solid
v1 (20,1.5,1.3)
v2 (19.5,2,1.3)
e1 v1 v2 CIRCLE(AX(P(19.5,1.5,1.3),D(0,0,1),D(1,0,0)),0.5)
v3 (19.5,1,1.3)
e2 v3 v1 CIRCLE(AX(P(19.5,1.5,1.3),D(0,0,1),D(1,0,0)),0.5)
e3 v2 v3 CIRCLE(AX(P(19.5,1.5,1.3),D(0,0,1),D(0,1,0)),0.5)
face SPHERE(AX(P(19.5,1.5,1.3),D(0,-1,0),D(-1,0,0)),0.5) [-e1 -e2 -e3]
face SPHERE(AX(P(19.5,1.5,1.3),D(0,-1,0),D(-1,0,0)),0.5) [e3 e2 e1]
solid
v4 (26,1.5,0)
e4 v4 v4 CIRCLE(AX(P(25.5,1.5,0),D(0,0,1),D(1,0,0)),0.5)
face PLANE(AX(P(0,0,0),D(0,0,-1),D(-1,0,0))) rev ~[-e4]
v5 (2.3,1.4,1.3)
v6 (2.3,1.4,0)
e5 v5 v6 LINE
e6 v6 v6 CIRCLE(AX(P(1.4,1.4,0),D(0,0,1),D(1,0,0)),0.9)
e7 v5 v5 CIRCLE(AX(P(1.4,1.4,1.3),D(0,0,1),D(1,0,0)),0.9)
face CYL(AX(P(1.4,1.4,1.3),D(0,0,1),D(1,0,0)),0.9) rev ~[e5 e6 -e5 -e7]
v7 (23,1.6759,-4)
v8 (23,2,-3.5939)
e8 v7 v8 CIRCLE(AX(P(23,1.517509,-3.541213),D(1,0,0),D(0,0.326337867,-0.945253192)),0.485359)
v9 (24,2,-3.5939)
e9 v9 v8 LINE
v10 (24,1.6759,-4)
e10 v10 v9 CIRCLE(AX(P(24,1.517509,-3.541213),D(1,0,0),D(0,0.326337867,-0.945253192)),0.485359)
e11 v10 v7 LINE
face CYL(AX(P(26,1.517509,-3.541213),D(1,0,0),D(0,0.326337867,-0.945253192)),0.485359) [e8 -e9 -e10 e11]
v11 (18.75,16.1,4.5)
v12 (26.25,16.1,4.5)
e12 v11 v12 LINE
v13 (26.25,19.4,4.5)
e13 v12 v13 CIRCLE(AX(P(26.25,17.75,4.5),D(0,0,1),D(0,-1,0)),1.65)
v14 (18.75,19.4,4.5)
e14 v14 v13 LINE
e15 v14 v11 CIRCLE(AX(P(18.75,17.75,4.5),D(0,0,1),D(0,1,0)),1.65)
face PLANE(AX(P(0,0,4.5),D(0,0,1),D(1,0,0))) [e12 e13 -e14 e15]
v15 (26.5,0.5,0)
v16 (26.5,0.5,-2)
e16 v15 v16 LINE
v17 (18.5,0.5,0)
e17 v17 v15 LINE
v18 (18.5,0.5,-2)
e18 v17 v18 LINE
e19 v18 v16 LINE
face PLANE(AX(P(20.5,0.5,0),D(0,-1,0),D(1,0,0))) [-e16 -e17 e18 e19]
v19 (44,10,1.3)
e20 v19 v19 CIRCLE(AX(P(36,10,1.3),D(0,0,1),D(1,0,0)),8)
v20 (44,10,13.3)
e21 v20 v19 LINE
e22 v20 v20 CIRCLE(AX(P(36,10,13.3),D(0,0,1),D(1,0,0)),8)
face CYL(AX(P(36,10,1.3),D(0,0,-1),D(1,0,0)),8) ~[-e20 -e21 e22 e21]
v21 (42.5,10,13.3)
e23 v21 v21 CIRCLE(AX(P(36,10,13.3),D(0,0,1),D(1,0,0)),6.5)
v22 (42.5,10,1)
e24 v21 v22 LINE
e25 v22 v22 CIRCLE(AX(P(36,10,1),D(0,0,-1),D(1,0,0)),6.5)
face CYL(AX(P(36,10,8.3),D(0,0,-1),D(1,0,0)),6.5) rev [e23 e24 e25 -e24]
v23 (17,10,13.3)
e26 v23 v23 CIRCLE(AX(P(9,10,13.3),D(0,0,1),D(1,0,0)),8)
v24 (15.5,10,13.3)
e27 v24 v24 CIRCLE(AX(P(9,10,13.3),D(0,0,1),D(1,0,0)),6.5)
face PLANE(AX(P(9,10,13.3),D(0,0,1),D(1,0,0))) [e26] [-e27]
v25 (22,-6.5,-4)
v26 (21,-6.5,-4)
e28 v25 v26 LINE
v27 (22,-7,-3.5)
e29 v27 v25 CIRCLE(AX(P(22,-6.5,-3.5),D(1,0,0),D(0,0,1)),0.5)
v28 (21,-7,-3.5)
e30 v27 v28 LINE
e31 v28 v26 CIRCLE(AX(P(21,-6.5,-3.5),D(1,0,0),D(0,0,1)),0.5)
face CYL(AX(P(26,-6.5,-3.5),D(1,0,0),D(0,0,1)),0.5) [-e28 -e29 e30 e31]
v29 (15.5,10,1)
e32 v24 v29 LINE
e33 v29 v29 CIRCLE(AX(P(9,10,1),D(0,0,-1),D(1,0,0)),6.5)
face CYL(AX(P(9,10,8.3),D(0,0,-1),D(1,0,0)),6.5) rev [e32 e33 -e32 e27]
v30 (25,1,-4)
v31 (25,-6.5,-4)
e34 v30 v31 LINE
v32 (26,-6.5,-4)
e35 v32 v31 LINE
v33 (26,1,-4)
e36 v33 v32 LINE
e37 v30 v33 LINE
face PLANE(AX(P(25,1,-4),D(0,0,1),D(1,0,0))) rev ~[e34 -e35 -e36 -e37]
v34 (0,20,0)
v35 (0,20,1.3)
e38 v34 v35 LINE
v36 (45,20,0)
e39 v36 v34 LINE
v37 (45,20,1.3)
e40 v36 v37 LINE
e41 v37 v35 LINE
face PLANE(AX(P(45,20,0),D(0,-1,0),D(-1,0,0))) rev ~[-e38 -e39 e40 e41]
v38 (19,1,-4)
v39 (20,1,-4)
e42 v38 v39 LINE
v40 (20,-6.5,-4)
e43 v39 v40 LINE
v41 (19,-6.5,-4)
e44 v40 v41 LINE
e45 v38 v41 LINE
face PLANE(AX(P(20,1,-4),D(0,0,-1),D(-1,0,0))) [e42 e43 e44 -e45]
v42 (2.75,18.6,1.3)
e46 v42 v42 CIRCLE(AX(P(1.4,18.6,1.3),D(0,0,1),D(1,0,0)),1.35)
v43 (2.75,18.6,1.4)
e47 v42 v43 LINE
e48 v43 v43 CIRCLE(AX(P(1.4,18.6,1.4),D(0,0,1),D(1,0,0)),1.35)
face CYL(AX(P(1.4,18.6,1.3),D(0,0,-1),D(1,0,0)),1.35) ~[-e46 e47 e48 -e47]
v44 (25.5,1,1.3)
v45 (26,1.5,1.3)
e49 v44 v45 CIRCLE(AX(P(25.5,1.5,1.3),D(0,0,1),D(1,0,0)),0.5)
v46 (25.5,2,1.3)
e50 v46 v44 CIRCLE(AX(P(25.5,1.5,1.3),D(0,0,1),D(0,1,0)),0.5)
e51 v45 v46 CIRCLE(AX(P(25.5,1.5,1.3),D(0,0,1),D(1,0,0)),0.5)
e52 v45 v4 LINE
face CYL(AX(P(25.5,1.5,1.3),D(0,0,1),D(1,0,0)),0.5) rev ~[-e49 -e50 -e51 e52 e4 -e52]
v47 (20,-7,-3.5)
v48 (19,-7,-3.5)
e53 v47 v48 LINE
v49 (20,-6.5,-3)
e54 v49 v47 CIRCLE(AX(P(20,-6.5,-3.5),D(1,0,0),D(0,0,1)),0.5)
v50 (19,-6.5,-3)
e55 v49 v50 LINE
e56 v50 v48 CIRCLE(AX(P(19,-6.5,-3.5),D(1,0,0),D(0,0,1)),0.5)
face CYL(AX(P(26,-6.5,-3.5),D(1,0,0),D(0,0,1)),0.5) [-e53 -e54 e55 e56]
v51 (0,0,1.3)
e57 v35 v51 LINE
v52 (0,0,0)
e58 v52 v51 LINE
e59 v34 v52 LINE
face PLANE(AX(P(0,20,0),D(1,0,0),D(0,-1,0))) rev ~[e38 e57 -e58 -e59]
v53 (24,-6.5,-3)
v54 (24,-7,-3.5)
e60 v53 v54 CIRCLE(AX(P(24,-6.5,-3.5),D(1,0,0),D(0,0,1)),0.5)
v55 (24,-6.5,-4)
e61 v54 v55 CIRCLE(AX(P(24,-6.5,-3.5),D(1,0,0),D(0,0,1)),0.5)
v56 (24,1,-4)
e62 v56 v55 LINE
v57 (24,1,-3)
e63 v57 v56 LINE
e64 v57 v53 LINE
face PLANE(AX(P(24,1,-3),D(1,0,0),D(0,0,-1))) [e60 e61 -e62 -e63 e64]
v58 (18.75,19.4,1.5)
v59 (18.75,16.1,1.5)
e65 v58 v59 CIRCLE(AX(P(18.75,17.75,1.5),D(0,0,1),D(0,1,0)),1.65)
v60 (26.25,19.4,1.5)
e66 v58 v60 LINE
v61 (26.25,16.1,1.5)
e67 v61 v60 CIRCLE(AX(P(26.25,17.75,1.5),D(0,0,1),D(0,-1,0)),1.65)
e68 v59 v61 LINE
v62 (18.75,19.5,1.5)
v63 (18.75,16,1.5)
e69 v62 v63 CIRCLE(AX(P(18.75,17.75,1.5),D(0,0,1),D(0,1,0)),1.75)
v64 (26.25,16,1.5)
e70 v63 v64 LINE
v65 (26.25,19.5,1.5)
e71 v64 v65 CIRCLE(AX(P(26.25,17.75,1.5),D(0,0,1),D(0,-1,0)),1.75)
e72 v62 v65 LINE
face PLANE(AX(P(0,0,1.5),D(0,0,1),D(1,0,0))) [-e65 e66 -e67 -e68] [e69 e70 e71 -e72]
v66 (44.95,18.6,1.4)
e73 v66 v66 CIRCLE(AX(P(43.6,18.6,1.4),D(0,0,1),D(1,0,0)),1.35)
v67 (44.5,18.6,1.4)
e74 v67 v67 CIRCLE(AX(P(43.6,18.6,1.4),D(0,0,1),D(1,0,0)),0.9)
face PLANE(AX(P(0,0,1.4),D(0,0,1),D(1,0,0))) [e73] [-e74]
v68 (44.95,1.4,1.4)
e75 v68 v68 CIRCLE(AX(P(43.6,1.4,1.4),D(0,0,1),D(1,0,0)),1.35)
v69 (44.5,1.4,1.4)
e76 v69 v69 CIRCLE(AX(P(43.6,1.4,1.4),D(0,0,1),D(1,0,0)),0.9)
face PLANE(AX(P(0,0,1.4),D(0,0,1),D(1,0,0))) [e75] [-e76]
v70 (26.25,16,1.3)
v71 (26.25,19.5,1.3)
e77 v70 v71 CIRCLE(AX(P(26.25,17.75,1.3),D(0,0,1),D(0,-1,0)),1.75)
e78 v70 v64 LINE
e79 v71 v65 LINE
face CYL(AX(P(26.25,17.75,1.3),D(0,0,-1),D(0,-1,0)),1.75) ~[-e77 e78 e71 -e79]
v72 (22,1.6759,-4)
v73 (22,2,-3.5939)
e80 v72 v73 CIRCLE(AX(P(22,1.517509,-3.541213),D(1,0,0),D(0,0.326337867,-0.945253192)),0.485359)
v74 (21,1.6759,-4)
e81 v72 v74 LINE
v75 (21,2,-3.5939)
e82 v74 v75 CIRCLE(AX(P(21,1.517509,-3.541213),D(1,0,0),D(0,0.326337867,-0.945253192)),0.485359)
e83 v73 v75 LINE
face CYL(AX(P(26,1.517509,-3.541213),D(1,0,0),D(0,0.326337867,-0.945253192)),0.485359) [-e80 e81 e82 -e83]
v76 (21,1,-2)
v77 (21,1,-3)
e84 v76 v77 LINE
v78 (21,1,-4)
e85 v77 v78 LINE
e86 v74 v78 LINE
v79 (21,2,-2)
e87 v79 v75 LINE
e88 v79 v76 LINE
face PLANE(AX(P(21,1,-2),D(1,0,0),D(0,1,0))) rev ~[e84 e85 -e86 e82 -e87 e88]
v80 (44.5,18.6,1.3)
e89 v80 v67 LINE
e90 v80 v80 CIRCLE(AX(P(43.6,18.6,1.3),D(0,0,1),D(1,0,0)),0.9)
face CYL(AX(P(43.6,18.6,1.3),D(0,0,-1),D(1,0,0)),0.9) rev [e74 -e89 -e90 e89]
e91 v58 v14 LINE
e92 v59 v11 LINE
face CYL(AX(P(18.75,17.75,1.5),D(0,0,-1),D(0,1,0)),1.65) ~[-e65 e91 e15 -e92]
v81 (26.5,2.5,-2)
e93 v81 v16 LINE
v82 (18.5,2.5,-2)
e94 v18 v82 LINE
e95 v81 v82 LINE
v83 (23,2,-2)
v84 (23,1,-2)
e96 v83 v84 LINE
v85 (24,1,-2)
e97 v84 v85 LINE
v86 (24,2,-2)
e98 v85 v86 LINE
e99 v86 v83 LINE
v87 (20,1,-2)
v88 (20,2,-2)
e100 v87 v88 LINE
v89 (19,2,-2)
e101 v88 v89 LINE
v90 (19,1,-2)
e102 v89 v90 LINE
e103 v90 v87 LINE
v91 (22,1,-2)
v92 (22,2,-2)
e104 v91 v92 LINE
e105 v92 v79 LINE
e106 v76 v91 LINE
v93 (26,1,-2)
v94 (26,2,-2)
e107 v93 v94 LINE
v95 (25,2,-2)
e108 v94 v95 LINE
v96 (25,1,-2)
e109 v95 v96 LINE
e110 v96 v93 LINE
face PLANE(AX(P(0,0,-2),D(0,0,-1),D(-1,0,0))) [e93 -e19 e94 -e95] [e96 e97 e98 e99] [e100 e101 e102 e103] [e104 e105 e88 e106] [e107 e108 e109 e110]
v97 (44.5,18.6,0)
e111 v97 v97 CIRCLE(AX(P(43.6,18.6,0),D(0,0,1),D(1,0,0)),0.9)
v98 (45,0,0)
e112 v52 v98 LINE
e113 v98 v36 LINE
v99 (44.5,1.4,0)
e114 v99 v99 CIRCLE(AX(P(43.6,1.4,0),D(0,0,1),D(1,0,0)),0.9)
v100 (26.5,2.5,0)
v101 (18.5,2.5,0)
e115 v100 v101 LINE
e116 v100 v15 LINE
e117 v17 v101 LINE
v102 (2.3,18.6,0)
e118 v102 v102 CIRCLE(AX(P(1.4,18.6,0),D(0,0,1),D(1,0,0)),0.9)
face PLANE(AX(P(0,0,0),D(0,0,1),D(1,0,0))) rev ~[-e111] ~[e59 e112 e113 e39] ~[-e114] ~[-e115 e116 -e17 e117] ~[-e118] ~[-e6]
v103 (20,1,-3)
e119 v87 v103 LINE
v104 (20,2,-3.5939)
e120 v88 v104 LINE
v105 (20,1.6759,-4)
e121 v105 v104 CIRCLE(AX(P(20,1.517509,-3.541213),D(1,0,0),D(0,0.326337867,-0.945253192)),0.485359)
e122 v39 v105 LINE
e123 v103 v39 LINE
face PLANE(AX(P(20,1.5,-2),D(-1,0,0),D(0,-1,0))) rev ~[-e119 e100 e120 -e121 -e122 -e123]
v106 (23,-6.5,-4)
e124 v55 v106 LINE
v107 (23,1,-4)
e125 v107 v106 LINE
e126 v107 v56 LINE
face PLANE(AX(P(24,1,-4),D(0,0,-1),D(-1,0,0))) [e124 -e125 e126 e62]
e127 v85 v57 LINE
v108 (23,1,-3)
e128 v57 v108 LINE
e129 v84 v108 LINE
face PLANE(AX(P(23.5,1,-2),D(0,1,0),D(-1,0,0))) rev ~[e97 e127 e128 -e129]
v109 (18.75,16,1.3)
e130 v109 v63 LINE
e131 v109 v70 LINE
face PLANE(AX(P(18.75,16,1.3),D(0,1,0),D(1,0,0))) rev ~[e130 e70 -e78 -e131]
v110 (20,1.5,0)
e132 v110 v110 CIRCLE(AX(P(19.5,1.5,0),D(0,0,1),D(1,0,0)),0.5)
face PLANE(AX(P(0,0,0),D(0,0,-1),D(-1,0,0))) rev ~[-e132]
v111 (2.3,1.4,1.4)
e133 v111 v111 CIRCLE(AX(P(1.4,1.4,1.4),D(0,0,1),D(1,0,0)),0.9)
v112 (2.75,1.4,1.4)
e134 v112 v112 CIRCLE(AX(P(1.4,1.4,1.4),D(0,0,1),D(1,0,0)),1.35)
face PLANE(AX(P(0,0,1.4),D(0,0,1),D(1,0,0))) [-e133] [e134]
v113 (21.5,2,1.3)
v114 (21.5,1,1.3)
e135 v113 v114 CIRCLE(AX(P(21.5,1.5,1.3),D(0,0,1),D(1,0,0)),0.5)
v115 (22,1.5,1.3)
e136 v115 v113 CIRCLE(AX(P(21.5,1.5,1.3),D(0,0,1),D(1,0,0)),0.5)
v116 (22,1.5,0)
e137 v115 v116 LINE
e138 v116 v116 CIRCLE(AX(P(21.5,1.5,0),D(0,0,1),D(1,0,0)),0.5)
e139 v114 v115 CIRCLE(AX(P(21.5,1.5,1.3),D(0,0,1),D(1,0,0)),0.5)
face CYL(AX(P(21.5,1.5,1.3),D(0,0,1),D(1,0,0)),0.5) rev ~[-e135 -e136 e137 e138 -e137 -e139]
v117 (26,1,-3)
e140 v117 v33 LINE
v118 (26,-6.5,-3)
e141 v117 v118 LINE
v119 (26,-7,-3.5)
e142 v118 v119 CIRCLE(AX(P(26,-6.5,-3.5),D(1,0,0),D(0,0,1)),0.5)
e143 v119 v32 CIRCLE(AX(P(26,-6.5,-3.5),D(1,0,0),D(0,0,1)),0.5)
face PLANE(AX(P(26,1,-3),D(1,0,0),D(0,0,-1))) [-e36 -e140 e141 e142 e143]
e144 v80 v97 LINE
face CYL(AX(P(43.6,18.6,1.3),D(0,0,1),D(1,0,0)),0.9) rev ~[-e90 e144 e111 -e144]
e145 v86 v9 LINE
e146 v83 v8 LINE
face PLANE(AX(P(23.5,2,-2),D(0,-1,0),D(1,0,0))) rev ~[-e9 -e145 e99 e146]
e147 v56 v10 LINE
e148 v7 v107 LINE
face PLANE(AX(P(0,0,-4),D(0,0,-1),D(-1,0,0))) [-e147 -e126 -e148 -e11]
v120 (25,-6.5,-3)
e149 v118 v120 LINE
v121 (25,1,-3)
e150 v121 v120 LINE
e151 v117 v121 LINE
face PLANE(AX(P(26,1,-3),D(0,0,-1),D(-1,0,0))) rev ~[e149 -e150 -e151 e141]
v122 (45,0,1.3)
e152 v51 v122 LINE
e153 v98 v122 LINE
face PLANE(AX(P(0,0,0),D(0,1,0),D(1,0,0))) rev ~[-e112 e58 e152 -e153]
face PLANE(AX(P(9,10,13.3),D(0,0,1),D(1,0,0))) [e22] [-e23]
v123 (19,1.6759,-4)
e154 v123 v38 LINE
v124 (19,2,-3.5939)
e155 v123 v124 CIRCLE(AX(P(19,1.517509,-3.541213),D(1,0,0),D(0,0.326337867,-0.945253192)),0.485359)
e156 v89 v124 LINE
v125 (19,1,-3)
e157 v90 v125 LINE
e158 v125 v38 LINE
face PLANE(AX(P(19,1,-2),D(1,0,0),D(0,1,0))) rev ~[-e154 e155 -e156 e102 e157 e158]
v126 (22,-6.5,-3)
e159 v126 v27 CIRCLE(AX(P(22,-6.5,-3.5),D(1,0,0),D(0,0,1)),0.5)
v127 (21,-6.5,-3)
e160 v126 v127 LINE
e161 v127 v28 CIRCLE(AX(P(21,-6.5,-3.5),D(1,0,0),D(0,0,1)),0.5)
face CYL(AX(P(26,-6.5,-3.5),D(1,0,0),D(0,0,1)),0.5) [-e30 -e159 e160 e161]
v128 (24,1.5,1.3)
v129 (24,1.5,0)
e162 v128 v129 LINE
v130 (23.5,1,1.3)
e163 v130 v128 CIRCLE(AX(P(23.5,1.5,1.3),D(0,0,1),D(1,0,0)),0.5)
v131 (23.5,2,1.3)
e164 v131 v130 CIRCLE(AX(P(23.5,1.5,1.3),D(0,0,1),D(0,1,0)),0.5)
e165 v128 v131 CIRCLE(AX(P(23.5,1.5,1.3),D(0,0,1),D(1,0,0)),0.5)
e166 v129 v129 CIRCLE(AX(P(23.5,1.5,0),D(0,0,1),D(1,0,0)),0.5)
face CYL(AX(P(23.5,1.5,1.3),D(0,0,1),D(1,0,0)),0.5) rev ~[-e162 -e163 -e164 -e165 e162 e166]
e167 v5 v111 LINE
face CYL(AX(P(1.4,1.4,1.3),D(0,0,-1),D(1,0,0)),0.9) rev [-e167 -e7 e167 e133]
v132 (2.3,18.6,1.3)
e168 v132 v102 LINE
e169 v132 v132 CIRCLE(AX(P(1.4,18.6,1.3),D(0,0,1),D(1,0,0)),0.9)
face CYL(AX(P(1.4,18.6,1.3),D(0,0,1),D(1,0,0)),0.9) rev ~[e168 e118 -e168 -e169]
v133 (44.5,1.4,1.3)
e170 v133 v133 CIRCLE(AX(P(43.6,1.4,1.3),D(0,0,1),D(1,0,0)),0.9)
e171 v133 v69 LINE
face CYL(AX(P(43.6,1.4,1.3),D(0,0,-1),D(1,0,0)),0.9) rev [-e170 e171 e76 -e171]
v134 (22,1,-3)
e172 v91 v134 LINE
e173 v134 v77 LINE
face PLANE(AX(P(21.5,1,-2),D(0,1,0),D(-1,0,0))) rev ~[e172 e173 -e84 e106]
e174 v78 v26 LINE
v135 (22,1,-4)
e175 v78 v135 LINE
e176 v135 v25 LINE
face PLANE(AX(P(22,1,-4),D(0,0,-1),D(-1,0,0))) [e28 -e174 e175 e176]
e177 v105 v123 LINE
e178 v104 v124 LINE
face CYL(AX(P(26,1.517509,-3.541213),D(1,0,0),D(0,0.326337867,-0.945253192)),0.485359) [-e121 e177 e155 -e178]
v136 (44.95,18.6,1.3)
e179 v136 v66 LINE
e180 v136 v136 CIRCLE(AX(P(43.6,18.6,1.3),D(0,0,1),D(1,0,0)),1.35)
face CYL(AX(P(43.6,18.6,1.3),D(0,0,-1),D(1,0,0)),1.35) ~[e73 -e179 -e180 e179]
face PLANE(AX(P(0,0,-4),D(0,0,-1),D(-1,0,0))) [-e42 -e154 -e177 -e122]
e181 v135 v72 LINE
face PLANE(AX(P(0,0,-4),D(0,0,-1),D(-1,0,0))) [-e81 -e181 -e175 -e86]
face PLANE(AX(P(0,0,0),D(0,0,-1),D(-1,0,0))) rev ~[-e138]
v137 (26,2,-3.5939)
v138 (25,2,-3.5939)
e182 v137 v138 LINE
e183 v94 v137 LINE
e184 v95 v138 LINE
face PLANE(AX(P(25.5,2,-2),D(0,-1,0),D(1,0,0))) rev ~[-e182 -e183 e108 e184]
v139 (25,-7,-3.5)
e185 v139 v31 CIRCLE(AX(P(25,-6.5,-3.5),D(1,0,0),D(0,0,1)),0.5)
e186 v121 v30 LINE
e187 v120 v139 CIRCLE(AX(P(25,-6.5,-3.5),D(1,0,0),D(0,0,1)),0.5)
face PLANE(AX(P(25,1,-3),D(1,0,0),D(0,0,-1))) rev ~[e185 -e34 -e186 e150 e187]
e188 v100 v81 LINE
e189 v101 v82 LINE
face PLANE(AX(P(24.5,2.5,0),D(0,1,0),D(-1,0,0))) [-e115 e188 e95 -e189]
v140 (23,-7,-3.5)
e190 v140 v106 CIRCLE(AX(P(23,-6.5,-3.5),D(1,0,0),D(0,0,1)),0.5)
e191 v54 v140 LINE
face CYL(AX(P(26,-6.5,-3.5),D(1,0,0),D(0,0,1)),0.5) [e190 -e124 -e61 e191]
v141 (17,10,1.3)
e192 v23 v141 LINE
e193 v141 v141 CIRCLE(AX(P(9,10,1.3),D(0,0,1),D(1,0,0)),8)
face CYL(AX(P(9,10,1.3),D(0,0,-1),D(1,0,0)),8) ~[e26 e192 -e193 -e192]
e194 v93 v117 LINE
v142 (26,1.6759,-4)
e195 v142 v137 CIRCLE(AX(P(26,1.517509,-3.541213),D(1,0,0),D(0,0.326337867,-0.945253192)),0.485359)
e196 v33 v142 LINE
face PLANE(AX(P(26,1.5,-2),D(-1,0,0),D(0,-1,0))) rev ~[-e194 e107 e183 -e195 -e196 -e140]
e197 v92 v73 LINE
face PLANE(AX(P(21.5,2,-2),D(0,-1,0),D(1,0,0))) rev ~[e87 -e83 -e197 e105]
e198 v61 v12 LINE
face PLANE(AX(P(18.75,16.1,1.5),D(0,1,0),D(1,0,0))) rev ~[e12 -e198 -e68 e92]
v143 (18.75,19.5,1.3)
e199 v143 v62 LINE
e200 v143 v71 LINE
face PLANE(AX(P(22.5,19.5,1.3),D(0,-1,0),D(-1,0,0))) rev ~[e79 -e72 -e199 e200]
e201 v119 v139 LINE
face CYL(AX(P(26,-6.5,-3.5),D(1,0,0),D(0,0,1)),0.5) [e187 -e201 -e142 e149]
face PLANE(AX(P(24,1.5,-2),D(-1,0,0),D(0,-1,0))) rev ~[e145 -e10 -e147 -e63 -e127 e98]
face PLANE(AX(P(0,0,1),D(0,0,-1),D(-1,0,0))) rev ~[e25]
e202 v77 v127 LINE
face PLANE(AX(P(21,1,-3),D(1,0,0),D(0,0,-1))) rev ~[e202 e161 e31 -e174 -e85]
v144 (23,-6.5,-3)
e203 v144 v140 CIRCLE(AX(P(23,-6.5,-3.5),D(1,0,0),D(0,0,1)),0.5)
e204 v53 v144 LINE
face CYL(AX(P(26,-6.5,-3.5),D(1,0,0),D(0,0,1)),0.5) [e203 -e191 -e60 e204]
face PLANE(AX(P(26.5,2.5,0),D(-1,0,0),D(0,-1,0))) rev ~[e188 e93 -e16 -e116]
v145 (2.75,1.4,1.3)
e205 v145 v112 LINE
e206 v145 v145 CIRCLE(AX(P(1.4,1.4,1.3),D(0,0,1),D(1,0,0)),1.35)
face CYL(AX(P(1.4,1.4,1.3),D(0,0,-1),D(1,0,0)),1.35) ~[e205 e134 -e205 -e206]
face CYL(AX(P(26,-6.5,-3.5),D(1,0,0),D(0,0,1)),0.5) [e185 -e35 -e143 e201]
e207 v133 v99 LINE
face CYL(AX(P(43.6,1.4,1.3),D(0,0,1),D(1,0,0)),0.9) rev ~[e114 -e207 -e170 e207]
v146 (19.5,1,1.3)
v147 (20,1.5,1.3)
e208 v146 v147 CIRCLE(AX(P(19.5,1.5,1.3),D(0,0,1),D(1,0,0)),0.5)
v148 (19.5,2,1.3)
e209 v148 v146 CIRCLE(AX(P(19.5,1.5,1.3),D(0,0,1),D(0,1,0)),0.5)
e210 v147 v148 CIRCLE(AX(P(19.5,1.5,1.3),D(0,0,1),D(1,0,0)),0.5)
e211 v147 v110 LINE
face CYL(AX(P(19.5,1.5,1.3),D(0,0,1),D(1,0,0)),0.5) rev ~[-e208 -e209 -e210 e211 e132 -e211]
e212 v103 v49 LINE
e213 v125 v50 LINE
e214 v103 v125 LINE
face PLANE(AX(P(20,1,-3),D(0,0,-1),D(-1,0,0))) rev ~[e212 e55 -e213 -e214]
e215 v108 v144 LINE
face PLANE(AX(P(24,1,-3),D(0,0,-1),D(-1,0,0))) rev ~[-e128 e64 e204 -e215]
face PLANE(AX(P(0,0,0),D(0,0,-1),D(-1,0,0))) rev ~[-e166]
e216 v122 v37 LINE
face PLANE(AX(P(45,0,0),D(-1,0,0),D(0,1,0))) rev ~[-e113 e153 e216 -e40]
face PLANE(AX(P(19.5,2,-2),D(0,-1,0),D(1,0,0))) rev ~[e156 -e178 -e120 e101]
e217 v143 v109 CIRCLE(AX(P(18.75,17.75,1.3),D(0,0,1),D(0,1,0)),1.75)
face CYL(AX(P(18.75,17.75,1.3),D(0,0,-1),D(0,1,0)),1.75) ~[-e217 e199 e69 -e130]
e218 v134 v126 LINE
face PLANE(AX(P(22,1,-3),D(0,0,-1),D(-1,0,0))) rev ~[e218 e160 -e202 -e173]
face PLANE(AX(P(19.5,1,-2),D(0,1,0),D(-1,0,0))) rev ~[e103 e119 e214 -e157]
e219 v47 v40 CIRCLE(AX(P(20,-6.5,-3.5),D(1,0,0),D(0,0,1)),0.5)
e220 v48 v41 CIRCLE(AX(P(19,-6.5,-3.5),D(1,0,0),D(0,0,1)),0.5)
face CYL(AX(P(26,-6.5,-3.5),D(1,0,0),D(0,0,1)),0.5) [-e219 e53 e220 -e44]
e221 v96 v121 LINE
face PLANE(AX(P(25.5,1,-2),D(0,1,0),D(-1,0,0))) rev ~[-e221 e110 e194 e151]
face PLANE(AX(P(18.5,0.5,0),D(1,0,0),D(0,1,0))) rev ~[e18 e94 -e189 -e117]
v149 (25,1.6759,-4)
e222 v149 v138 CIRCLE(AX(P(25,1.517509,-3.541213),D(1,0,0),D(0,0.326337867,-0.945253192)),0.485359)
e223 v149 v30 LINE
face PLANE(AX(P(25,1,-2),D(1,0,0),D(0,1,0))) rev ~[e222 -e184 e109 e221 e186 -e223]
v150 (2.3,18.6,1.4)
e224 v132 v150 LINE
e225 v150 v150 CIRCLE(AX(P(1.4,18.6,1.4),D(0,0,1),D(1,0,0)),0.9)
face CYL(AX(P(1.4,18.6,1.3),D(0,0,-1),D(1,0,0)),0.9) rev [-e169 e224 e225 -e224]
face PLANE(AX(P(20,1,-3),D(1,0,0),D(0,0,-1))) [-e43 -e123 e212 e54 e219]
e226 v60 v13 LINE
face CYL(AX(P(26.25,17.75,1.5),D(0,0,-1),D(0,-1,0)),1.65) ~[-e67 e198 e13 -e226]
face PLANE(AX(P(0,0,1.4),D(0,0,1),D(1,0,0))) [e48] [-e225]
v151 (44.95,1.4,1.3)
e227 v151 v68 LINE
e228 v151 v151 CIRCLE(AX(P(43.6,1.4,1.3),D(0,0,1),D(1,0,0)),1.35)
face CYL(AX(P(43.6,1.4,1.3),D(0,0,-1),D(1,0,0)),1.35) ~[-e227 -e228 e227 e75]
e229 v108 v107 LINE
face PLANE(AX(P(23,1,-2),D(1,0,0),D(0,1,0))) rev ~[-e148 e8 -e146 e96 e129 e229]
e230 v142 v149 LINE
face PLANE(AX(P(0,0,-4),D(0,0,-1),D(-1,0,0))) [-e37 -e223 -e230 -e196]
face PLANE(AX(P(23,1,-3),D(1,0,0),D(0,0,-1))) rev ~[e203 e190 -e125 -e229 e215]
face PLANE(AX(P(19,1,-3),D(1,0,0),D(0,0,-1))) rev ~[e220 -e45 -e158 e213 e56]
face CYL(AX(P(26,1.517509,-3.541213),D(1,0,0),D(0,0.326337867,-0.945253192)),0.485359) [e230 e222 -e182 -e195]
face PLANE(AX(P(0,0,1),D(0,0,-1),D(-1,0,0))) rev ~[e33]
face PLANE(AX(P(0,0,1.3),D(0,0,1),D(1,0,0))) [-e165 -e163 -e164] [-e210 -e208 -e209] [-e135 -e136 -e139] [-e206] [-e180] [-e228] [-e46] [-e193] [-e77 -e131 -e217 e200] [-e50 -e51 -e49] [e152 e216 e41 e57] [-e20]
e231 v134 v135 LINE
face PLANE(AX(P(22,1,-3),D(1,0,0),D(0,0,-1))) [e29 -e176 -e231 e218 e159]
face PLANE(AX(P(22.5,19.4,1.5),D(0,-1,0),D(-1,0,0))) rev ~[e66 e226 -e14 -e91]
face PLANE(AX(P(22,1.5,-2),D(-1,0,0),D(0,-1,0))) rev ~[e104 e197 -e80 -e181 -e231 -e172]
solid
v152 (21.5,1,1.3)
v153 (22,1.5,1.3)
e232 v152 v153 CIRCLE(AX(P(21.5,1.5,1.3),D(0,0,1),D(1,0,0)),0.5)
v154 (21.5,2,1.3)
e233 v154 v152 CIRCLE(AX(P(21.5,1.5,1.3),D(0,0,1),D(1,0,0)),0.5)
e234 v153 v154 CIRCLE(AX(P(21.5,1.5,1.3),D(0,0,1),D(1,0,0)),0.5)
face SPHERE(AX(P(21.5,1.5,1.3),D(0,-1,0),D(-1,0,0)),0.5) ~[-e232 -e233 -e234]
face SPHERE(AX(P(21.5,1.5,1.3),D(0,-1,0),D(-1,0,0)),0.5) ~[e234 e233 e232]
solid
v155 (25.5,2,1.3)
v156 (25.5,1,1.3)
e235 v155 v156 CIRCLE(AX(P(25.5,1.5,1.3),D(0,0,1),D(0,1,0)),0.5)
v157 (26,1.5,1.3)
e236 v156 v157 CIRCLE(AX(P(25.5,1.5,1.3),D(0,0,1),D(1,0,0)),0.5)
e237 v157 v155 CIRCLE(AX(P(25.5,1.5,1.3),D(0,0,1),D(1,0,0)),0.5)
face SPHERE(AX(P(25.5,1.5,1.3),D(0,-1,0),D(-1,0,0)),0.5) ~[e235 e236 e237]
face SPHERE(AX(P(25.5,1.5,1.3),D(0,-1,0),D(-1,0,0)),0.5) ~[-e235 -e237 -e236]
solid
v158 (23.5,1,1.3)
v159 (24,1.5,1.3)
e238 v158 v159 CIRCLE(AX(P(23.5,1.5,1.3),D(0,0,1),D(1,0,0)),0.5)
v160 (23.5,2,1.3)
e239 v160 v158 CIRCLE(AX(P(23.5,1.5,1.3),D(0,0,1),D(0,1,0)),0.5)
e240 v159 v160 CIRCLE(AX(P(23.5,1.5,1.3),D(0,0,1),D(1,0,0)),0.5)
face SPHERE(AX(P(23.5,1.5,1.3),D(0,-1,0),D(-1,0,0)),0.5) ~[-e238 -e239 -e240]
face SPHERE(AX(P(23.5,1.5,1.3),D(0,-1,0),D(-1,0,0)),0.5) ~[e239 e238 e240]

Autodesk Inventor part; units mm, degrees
ref_plane "YZ Plane" through (0, 0, 0) normal (1, 0, 0) x (0, 1, 0)
ref_plane "XZ Plane" through (0, 0, 0) normal (0, 1, 0) x (-1, 0, 0)
ref_plane "XY Plane" through (0, 0, 0) normal (0, 0, 1) x (1, 0, 0)
sketch "Sketch1" plane through (0, 0, 0) normal (0, 0, 1) x (1, 0, 0)
  line L0 (0, 0) -> (45, 0)
  line L1 (45, 0) -> (45, 20)
  line L2 (45, 20) -> (0, 20)
  line L3 (0, 20) -> (0, 0)
  line L4 (0, 0) -> (45, 0)
  line L5 (45, 0) -> (45, 20)
  dimension "d0" = 45
  dimension "d1" = 20
extrude "Extrusion1" add sketch "Sketch1" along normal blind 1.3
sketch "Sketch2" plane through (0, 0, 1.3) normal (0, 0, 1) x (1, 0, 0)
  line L0 (0, 20) -> (0, 0)
  line L1 (0, 20) -> (0, 0) projected
  circle A0 centre (9, 10) radius 8
  line L2 (0, 0) -> (45, 0) projected
  line L3 (22.5, 0) -> (22.5, 16.923)
  circle A1 centre (36, 10) radius 8
extrude "Extrusion2" add sketch "Sketch2" along normal blind 7
sketch "Sketch3" plane through (0, 0, 1.3) normal (0, 0, 1) x (1, 0, 0)
  line L0 (0, 0) -> (45, 0) projected
  line L1 (22.5, 0) -> (22.5, 3.8703)
  line L2 (22.5, 0) -> (22.5, 1.5)
  circle A0 centre (23.5, 1.5) radius 0.5
  circle A1 centre (25.5, 1.5) radius 0.5
  circle A2 centre (21.5, 1.5) radius 0.5
  circle A3 centre (19.5, 1.5) radius 0.5
extrude "Extrusion3" cut sketch "Sketch3" against normal blind 7
sketch "Sketch4" plane through (0, 0, 1.3) normal (0, 0, 1) x (1, 0, 0)
  line L0 (0, 0) -> (0.5, 0)
  line L1 (0, 0) -> (45, 0) projected
  line L2 (0.5, 0) -> (0.5, 0.5)
  circle A0 centre (1.4, 1.4) radius 0.9
  line L3 (0, 20) -> (0, 0) projected
  line L4 (0, 20) -> (0, 0) projected
  line L5 (45, 20) -> (0, 20) projected
  line L6 (0, 20) -> (0.5, 20)
  line L7 (0.5, 20) -> (0.5, 19.5)
  circle A1 centre (1.4, 18.6) radius 0.9
  line L8 (45, 0) -> (44.5, 0)
  line L9 (44.5, 0) -> (44.5, 0.5)
  circle A2 centre (43.6, 1.4) radius 0.9
  line L10 (45, 20) -> (45, 0)
  line L11 (45, 20) -> (45, 0)
  line L12 (45, 20) -> (44.5, 20)
  line L13 (44.5, 20) -> (44.5, 19.5)
  circle A3 centre (43.6, 18.6) radius 0.9
extrude "Extrusion4" cut sketch "Sketch4" against normal blind 7 contours A0 | A1 | A2 | A3
sketch "Sketch5" plane through (9, 10, 8.3) normal (0, 0, 1) x (1, 0, 0)
  circle A0 centre (27, 0) radius 8 projected
  circle A1 centre (0, 0) radius 8 projected
  circle A2 centre (0, 0) radius 6.5
  circle A3 centre (27, 0) radius 6.5
  point P0 (-9, -10)
  dimension "d21" = 13
  dimension "d22" = 13
extrude "Extrusion5" cut sketch "Sketch5" against normal blind 10 contours A2 | A3
sketch "Sketch6" plane through (9, 10, 8.3) normal (0, 0, 1) x (1, 0, 0)
  circle A0 centre (27, 0) radius 6.5 projected
  circle A1 centre (27, 0) radius 8 projected
  circle A2 centre (0, 0) radius 6.5 projected
  circle A3 centre (0, 0) radius 8 projected
  point P0 (-9, -10)
extrude "Extrusion6" add sketch "Sketch6" along normal blind 5
sketch "Sketch7" plane through (0, 0, 0) normal (0, 0, -1) x (-1, 0, 0)
  circle A0 centre (-36, 10) radius 6.5 projected
  circle A1 centre (-9, 10) radius 6.5 projected
  circle A2 centre (-43.6, 1.4) radius 0.9 projected
  circle A3 centre (-1.4, 1.4) radius 0.9 projected
  circle A4 centre (-1.4, 18.6) radius 0.9 projected
  circle A5 centre (-43.6, 18.6) radius 0.9 projected
  circle A6 centre (-21.5, 1.5) radius 0.5 projected
  circle A7 centre (-23.5, 1.5) radius 0.5 projected
  circle A8 centre (-25.5, 1.5) radius 0.5 projected
  circle A9 centre (-19.5, 1.5) radius 0.5 projected
  line L0 (0, 0) -> (-45, 0) projected
  line L1 (0, 20) -> (0, 0) projected
  line L2 (-45, 20) -> (0, 20) projected
  line L3 (-45, 0) -> (-45, 20) projected
extrude "Extrusion7" add sketch "Sketch7" against normal blind 1 contours A0 | A1
sketch "Sketch8" plane through (0, 0, 1.3) normal (0, 0, 1) x (1, 0, 0)
  circle A0 centre (43.6, 1.4) radius 0.9 projected
  circle A1 centre (1.4, 1.4) radius 0.9 projected
  circle A2 centre (1.4, 18.6) radius 0.9 projected
  circle A3 centre (43.6, 18.6) radius 0.9 projected
  circle A4 centre (21.5, 1.5) radius 0.5 projected
  circle A5 centre (23.5, 1.5) radius 0.5 projected
  circle A6 centre (25.5, 1.5) radius 0.5 projected
  circle A7 centre (19.5, 1.5) radius 0.5 projected
  circle A8 centre (9, 10) radius 8 projected
  circle A9 centre (36, 10) radius 8 projected
  line L0 (0, 0) -> (45, 0) projected
  line L1 (45, 0) -> (45, 20) projected
  line L2 (45, 20) -> (0, 20) projected
  line L3 (0, 20) -> (0, 0) projected
  line L4 (45, 20) -> (0, 20) projected
  line L5 (22.5, 20) -> (28, 20)
  line L6 (28, 20) -> (17, 20)
  line L7 (22.5, 20) -> (22.5, 19.5)
  line L8 (22.5, 19.5) -> (26.25, 19.5)
  line L9 (18.75, 16) -> (26.25, 16)
  arc A10 (26.25, 16) -> (26.25, 19.5) centre (26.25, 17.75) ccw
  line L10 (22.5, 19.5) -> (18.75, 19.5)
  arc A11 (18.75, 19.5) -> (18.75, 16) centre (18.75, 17.75) ccw
  line L11 (26.25, 19.5) -> (18.75, 19.5)
  line L12 (17, 19.5) -> (16.3922, 19.5)
extrude "Extrusion8" add sketch "Sketch8" along normal blind 0.2 contours L8 A10 L9 A11 L10
sketch "Sketch9" plane through (0, 0, 1.5) normal (0, 0, 1) x (1, 0, 0)
  line L0 (26.25, 19.5) -> (18.75, 19.5) projected
  arc A0 (18.75, 19.5) -> (18.75, 16) centre (18.75, 17.75) ccw projected
  line L1 (18.75, 16) -> (26.25, 16) projected
  arc A1 (26.25, 16) -> (26.25, 19.5) centre (26.25, 17.75) ccw projected
  line L2 (26.25, 19.5) -> (18.75, 19.5) projected
  line L3 (22.5, 19.5) -> (22.5, 19.4)
  line L4 (22.5, 19.4) -> (26.25, 19.4)
  line L5 (22.5, 19.4) -> (18.75, 19.4)
  line L6 (18.75, 16) -> (18.75, 16.1)
  line L7 (18.75, 16) -> (18.85, 16) construction
  line L8 (18.75, 16.1) -> (26.25, 16.1)
  arc A2 (18.75, 19.4) -> (18.75, 16.1) centre (18.75, 17.75) ccw
  arc A3 (26.25, 16.1) -> (26.25, 19.4) centre (26.25, 17.75) ccw
  point P0 (0, 0)
extrude "Extrusion9" add sketch "Sketch9" along normal blind 3 contours L4 A3 L8 A2 L5
sketch "Sketch10" plane through (0, 0, 1.3) normal (0, 0, 1) x (1, 0, 0)
  circle A0 centre (1.4, 18.6) radius 0.9 projected
  circle A1 centre (1.4, 18.6) radius 1.35
  arc A2 (26.25, 16) -> (26.25, 19.5) centre (26.25, 17.75) ccw projected
  line L0 (26.25, 16) -> (18.75, 16) projected
  arc A3 (18.75, 19.5) -> (18.75, 16) centre (18.75, 17.75) ccw projected
  line L1 (18.75, 19.5) -> (26.25, 19.5) projected
  circle A4 centre (43.6, 1.4) radius 0.9 projected
  circle A5 centre (1.4, 1.4) radius 0.9 projected
  circle A6 centre (1.4, 18.6) radius 0.9 projected
  circle A7 centre (43.6, 18.6) radius 0.9 projected
  circle A8 centre (21.5, 1.5) radius 0.5 projected
  circle A9 centre (23.5, 1.5) radius 0.5 projected
  circle A10 centre (25.5, 1.5) radius 0.5 projected
  circle A11 centre (19.5, 1.5) radius 0.5 projected
  circle A12 centre (9, 10) radius 8 projected
  circle A13 centre (36, 10) radius 8 projected
  line L2 (0, 0) -> (45, 0) projected
  line L3 (45, 0) -> (45, 20) projected
  line L4 (45, 20) -> (0, 20) projected
  line L5 (0, 20) -> (0, 0) projected
  circle A14 centre (1.4, 1.4) radius 1.35
  circle A15 centre (43.6, 1.4) radius 1
  circle A16 centre (43.6, 18.6) radius 1.35
  dimension "d44" = 2.7
  dimension "d45" = 2.7
  dimension "d46" = 2
  dimension "d47" = 2.7
extrude "Extrusion10" add sketch "Sketch10" along normal blind 0.1 contours A1 | A14 | A16
sketch "Sketch11" plane through (0, 0, 1.3) normal (0, 0, 1) x (1, 0, 0)
  circle A0 centre (43.6, 1.4) radius 0.9 projected
  circle A1 centre (43.6, 1.4) radius 1.35
  point P0 (0, 0)
  dimension "d50" = 2.7
extrude "Extrusion11" add sketch "Sketch11" along normal blind 0.1
sketch "Sketch12" plane through (0, 0, 1.3) normal (0, 0, 1) x (1, 0, 0)
  circle A0 centre (19.5, 1.5) radius 0.5 projected
  circle A1 centre (21.5, 1.5) radius 0.5 projected
  circle A2 centre (23.5, 1.5) radius 0.5 projected
  circle A3 centre (25.5, 1.5) radius 0.5 projected
  line L0 (19.5, 0.8729) -> (19.5, 2)
  line L1 (21.5, 1) -> (21.5, 2)
  line L2 (23.5, 1) -> (23.5, 2)
  line L3 (25.5, 1) -> (25.5, 2)
  circle A4 centre (25.5, 1.5) radius 0.5 projected
  circle A5 centre (25.5, 1.5) radius 0.5 projected
  point P0 (0, 0)
revolve "Revolution1" add sketch "Sketch12" angle 360 about axis through (21.5, 1, 1.3) along (0, 1, 0) picked at (21.3442, 1.4409) contours L1 A1
sketch "Sketch13" plane through (0, 0, 1.3) normal (0, 0, 1) x (1, 0, 0)
  circle A0 centre (43.6, 1.4) radius 1.35 projected
  circle A1 centre (43.6, 18.6) radius 1.35 projected
  circle A2 centre (1.4, 18.6) radius 1.35 projected
  circle A3 centre (1.4, 1.4) radius 1.35 projected
  arc A4 (26.25, 16) -> (26.25, 19.5) centre (26.25, 17.75) ccw projected
  line L0 (26.25, 16) -> (18.75, 16) projected
  arc A5 (18.75, 19.5) -> (18.75, 16) centre (18.75, 17.75) ccw projected
  line L1 (18.75, 19.5) -> (26.25, 19.5) projected
  circle A6 centre (21.5, 1.5) radius 0.5 projected
  circle A7 centre (23.5, 1.5) radius 0.5 projected
  circle A8 centre (25.5, 1.5) radius 0.5 projected
  circle A9 centre (19.5, 1.5) radius 0.5 projected
  circle A10 centre (9, 10) radius 8 projected
  circle A11 centre (36, 10) radius 8 projected
  line L2 (0, 0) -> (45, 0) projected
  line L3 (45, 0) -> (45, 20) projected
  line L4 (45, 20) -> (0, 20) projected
  line L5 (0, 20) -> (0, 0) projected
  circle A12 centre (23.5, 1.5) radius 0.5 projected
  line L6 (23.5, 1.5) -> (23.5, 1)
  line L7 (23.5, 1.5) -> (24, 1.5) construction
  line L8 (23.5, 1) -> (23.5, 2.2277)
  line L9 (25.5, 1.5) -> (25.5, 2)
  line L10 (19.5, 1.1367) -> (19.5, 2.962)
  line L11 (19.5, 2.962) -> (19.5, 0.5552)
  circle A13 centre (19.5, 1.5) radius 0.5 projected
  arc A14 (19.5, 2) -> (19.5, 1) centre (19.5, 1.5) ccw
  dimension "d54" = 90
revolve "Revolution2" add sketch "Sketch13" angle 360 about axis through (19.5, 2.962, 1.3) along (0, -1, 0) picked at (19.4601, 1.7074) contours L10 L11 A9
sketch "Sketch14" plane through (0, 0, 1.3) normal (0, 0, 1) x (1, 0, 0)
  circle A0 centre (23.5, 1.5) radius 0.5 projected
  line L0 (23.5, 0.6366) -> (23.5, 2.6305)
  arc A1 (23.5, 2) -> (23.5, 1) centre (23.5, 1.5) ccw
  point P0 (0, 0)
revolve "Revolution3" add sketch "Sketch14" angle 360 about axis through (23.5, 0.6366, 1.3) along (0, 1, 0) picked at (23.3442, 1.4409) contours L0 A0
sketch "Sketch15" plane through (0, 0, 1.3) normal (0, 0, 1) x (1, 0, 0)
  line L0 (25.5, 1) -> (25.5, 2)
  arc A0 (25.5, 2) -> (25.5, 1) centre (25.5, 1.5) ccw
  point P0 (0, 0)
revolve "Revolution4" add sketch "Sketch15" angle 360 about axis through (25.5, 1, 1.3) along (0, 1, 0)
sketch "Sketch16" plane through (0, 0, 0) normal (0, 0, -1) x (-1, 0, 0)
  circle A0 centre (-43.6, 1.4) radius 0.9 projected
  circle A1 centre (-1.4, 1.4) radius 0.9 projected
  circle A2 centre (-1.4, 18.6) radius 0.9 projected
  circle A3 centre (-43.6, 18.6) radius 0.9 projected
  circle A4 centre (-21.5, 1.5) radius 0.5 projected
  circle A5 centre (-23.5, 1.5) radius 0.5 projected
  circle A6 centre (-25.5, 1.5) radius 0.5 projected
  circle A7 centre (-19.5, 1.5) radius 0.5 projected
  line L0 (0, 0) -> (-45, 0) projected
  line L1 (0, 20) -> (0, 0) projected
  line L2 (-45, 20) -> (0, 20) projected
  line L3 (-45, 0) -> (-45, 20) projected
  line L4 (-18.5, 2.5) -> (-20.5, 2.5)
  line L5 (-20.5, 2.5) -> (-20.5, 0.5)
  line L6 (-20.5, 0.5) -> (-18.5, 0.5)
  line L7 (-18.5, 0.5) -> (-18.5, 2.5)
  line L8 (-18.5, 2.5) -> (-20.5, 0.5) construction
  line L9 (-20.5, 2.5) -> (-18.5, 0.5) construction
  line L10 (-24.5, 2.5) -> (-26.5, 2.5)
  line L11 (-26.5, 2.5) -> (-26.5, 0.5)
  line L12 (-26.5, 0.5) -> (-24.5, 0.5)
  line L13 (-24.5, 0.5) -> (-24.5, 2.5)
  line L14 (-24.5, 2.5) -> (-26.5, 0.5) construction
  line L15 (-26.5, 2.5) -> (-24.5, 0.5) construction
  line L16 (-18.5, 0.5) -> (-26.5917, 0.5)
  line L17 (-18.5, 2.5917) -> (-18.5, 0.5)
  line L18 (-26.5917, 0.5) -> (-18.5, 0.5)
  line L19 (-18.5, 0.5) -> (-18.5, 2.5917)
  line L20 (-18.5, 0.5) -> (-26.5, 0.5)
  line L21 (-26.5, 0.5) -> (-26.5, 2.5)
  line L22 (-26.5, 2.5) -> (-18.5, 2.5)
  line L23 (-18.5, 2.5) -> (-18.5, 0.5)
  dimension "d58" = 2
  dimension "d59" = 2
  dimension "d60" = 2
  dimension "d61" = 2
extrude "Extrusion12" add sketch "Sketch16" along normal blind 2 contours A4 | A5 | A6 | A7 | L7 L6 L5 L4 | L5 L16 L13 L22 | L13 L12 L11 L10
sketch "Sketch17" plane through (0, 0, -2) normal (0, 0, -1) x (-1, 0, 0)
  point P0 (0, 0)
sketch "Sketch18" plane through (0, 0, -2) normal (0, 0, -1) x (-1, 0, 0)
  point P0 (0, 0)
sketch "Sketch19" plane through (0, 0, -2) normal (0, 0, -1) x (-1, 0, 0)
  line L0 (-26.5, 2.5) -> (-26.5, 0.5) projected
  line L1 (-26.5, 0.5) -> (-18.5, 0.5) projected
  line L2 (-18.5, 0.5) -> (-18.5, 2.5) projected
  line L3 (-18.5, 2.5) -> (-26.5, 2.5) projected
  circle A0 centre (-19.5, 1.5) radius 0.5 projected
  circle A1 centre (-21.5, 1.5) radius 0.5 projected
  circle A2 centre (-23.5, 1.5) radius 0.5 projected
  circle A3 centre (-25.5, 1.5) radius 0.5 projected
  line L4 (-19, 2) -> (-20, 2)
  line L5 (-20, 2) -> (-20, 1)
  line L6 (-20, 1) -> (-19, 1)
  line L7 (-19, 1) -> (-19, 2)
  line L8 (-19, 2) -> (-20, 1) construction
  line L9 (-20, 2) -> (-19, 1) construction
  line L10 (-21, 2) -> (-22, 2)
  line L11 (-22, 2) -> (-22, 1)
  line L12 (-22, 1) -> (-21, 1)
  line L13 (-21, 1) -> (-21, 2)
  line L14 (-21, 2) -> (-22, 1) construction
  line L15 (-22, 2) -> (-21, 1) construction
  line L16 (-23, 2) -> (-24, 2)
  line L17 (-24, 2) -> (-24, 1)
  line L18 (-24, 1) -> (-23, 1)
  line L19 (-23, 1) -> (-23, 2)
  line L20 (-23, 2) -> (-24, 1) construction
  line L21 (-24, 2) -> (-23, 1) construction
  line L22 (-25, 2) -> (-26, 2)
  line L23 (-26, 2) -> (-26, 1)
  line L24 (-26, 1) -> (-25, 1)
  line L25 (-25, 1) -> (-25, 2)
  line L26 (-25, 2) -> (-26, 1) construction
  line L27 (-26, 2) -> (-25, 1) construction
  point P0 (0, 0)
extrude "Extrusion13" add sketch "Sketch19" along normal blind 2 contours A0 | L7 L6 A0 | A0 L4 L7 | A0 L5 L4 | L6 L5 A0 | A1 | L13 L12 A1 | A1 L10 L13 | A1 L11 L10 | L12 L11 A1 | A2 | L19 L18 A2 | A2 L16 L19 | A2 L17 L16 | L18 L17 A2 | A3 | L25 L24 A3 | A3 L22 L25 | A3 L23 L22 | L24 L23 A3
sketch "Sketch20" plane through (25, 1, -2) normal (0, -1, 0) x (1, 0, 0)
  line L0 (-2, 0) -> (-1, 0) projected
  line L1 (-2, 0) -> (-2, -2) projected
  line L2 (-1, -2) -> (-2, -2) projected
  line L3 (-1, 0) -> (-1, -2) projected
  line L4 (-4, 0) -> (-4, -2) projected
  line L5 (-4, 0) -> (-3, 0) projected
  line L6 (-4, 0) -> (-4, -2) projected
  line L7 (-3, -2) -> (-4, -2) projected
  line L8 (-3, 0) -> (-3, -2) projected
  line L9 (-6, 0) -> (-5, 0) projected
  line L10 (-6, 0) -> (-6, -2) projected
  line L11 (-5, -2) -> (-6, -2) projected
  line L12 (-5, 0) -> (-5, -2) projected
  line L13 (-5, 0) -> (-5, -2) projected
  line L14 (-6, -2) -> (-5, -2)
  line L15 (-5, -2) -> (-5, -1)
  line L16 (-5, -1) -> (-6, -1)
  line L17 (-6, -1) -> (-6, -2)
  line L18 (-4, -2) -> (-3, -2)
  line L19 (-3, -2) -> (-3, -1)
  line L20 (-3, -1) -> (-4, -1)
  line L21 (-4, -1) -> (-4, -2)
  line L22 (-1, 0) -> (-1, -2) projected
  line L23 (-2, -2) -> (-1, -2)
  line L24 (-1, -2) -> (-1, -1)
  line L25 (-1, -1) -> (-2, -1)
  line L26 (-2, -1) -> (-2, -2)
  line L27 (1, 0) -> (1, -2) projected
  line L28 (0, -2) -> (1, -2)
  line L29 (1, -2) -> (1, -1)
  line L30 (1, -1) -> (0, -1)
  line L31 (0, -1) -> (0, -2)
  point P0 (-25, 2)
extrude "Extrusion14" add sketch "Sketch20" along normal blind 8 contours L25 L3 L2 L1 | L20 L8 L7 L4 | L16 L12 L11 L10 | L27 L28 L31 L30
sketch "Sketch21" plane through (26, 1, -2) normal (1, 0, 0) x (0, 0, -1)
  line L0 (0, 0) -> (0, 1) projected
  line L1 (0, 0) -> (1, 0) projected
  line L2 (1, 0) -> (1, -8) projected
  line L3 (2, -8) -> (1, -8) projected
  line L4 (2, 1) -> (2, -8) projected
  line L5 (0, 1) -> (2, 1) projected
  line L6 (2, 1) -> (2, -8) projected
  line L7 (0, 1) -> (2, 1) projected
  arc A0 (2, 0.6759) -> (1.5939, 1) centre (1.5412, 0.5175) ccw
  line L8 (1, 0) -> (1, -8) projected
  line L9 (0, 0) -> (1, 0) projected
  line L10 (2, -8) -> (1, -8) projected
  line L11 (1.5, -8) -> (2, -8)
  line L12 (1.5, -8) -> (1.5, -7.5)
  arc A1 (1, -7.5) -> (2, -7.5) centre (1.5, -7.5) ccw
  point P0 (-2, -1)
  dimension "d68" = 0.5
  dimension "d69" = 0.5
extrude "Extrusion15" cut sketch "Sketch21" against normal blind 80 contours L5 L4 A0 | A1 L3 L2 | A1 L4 L3
